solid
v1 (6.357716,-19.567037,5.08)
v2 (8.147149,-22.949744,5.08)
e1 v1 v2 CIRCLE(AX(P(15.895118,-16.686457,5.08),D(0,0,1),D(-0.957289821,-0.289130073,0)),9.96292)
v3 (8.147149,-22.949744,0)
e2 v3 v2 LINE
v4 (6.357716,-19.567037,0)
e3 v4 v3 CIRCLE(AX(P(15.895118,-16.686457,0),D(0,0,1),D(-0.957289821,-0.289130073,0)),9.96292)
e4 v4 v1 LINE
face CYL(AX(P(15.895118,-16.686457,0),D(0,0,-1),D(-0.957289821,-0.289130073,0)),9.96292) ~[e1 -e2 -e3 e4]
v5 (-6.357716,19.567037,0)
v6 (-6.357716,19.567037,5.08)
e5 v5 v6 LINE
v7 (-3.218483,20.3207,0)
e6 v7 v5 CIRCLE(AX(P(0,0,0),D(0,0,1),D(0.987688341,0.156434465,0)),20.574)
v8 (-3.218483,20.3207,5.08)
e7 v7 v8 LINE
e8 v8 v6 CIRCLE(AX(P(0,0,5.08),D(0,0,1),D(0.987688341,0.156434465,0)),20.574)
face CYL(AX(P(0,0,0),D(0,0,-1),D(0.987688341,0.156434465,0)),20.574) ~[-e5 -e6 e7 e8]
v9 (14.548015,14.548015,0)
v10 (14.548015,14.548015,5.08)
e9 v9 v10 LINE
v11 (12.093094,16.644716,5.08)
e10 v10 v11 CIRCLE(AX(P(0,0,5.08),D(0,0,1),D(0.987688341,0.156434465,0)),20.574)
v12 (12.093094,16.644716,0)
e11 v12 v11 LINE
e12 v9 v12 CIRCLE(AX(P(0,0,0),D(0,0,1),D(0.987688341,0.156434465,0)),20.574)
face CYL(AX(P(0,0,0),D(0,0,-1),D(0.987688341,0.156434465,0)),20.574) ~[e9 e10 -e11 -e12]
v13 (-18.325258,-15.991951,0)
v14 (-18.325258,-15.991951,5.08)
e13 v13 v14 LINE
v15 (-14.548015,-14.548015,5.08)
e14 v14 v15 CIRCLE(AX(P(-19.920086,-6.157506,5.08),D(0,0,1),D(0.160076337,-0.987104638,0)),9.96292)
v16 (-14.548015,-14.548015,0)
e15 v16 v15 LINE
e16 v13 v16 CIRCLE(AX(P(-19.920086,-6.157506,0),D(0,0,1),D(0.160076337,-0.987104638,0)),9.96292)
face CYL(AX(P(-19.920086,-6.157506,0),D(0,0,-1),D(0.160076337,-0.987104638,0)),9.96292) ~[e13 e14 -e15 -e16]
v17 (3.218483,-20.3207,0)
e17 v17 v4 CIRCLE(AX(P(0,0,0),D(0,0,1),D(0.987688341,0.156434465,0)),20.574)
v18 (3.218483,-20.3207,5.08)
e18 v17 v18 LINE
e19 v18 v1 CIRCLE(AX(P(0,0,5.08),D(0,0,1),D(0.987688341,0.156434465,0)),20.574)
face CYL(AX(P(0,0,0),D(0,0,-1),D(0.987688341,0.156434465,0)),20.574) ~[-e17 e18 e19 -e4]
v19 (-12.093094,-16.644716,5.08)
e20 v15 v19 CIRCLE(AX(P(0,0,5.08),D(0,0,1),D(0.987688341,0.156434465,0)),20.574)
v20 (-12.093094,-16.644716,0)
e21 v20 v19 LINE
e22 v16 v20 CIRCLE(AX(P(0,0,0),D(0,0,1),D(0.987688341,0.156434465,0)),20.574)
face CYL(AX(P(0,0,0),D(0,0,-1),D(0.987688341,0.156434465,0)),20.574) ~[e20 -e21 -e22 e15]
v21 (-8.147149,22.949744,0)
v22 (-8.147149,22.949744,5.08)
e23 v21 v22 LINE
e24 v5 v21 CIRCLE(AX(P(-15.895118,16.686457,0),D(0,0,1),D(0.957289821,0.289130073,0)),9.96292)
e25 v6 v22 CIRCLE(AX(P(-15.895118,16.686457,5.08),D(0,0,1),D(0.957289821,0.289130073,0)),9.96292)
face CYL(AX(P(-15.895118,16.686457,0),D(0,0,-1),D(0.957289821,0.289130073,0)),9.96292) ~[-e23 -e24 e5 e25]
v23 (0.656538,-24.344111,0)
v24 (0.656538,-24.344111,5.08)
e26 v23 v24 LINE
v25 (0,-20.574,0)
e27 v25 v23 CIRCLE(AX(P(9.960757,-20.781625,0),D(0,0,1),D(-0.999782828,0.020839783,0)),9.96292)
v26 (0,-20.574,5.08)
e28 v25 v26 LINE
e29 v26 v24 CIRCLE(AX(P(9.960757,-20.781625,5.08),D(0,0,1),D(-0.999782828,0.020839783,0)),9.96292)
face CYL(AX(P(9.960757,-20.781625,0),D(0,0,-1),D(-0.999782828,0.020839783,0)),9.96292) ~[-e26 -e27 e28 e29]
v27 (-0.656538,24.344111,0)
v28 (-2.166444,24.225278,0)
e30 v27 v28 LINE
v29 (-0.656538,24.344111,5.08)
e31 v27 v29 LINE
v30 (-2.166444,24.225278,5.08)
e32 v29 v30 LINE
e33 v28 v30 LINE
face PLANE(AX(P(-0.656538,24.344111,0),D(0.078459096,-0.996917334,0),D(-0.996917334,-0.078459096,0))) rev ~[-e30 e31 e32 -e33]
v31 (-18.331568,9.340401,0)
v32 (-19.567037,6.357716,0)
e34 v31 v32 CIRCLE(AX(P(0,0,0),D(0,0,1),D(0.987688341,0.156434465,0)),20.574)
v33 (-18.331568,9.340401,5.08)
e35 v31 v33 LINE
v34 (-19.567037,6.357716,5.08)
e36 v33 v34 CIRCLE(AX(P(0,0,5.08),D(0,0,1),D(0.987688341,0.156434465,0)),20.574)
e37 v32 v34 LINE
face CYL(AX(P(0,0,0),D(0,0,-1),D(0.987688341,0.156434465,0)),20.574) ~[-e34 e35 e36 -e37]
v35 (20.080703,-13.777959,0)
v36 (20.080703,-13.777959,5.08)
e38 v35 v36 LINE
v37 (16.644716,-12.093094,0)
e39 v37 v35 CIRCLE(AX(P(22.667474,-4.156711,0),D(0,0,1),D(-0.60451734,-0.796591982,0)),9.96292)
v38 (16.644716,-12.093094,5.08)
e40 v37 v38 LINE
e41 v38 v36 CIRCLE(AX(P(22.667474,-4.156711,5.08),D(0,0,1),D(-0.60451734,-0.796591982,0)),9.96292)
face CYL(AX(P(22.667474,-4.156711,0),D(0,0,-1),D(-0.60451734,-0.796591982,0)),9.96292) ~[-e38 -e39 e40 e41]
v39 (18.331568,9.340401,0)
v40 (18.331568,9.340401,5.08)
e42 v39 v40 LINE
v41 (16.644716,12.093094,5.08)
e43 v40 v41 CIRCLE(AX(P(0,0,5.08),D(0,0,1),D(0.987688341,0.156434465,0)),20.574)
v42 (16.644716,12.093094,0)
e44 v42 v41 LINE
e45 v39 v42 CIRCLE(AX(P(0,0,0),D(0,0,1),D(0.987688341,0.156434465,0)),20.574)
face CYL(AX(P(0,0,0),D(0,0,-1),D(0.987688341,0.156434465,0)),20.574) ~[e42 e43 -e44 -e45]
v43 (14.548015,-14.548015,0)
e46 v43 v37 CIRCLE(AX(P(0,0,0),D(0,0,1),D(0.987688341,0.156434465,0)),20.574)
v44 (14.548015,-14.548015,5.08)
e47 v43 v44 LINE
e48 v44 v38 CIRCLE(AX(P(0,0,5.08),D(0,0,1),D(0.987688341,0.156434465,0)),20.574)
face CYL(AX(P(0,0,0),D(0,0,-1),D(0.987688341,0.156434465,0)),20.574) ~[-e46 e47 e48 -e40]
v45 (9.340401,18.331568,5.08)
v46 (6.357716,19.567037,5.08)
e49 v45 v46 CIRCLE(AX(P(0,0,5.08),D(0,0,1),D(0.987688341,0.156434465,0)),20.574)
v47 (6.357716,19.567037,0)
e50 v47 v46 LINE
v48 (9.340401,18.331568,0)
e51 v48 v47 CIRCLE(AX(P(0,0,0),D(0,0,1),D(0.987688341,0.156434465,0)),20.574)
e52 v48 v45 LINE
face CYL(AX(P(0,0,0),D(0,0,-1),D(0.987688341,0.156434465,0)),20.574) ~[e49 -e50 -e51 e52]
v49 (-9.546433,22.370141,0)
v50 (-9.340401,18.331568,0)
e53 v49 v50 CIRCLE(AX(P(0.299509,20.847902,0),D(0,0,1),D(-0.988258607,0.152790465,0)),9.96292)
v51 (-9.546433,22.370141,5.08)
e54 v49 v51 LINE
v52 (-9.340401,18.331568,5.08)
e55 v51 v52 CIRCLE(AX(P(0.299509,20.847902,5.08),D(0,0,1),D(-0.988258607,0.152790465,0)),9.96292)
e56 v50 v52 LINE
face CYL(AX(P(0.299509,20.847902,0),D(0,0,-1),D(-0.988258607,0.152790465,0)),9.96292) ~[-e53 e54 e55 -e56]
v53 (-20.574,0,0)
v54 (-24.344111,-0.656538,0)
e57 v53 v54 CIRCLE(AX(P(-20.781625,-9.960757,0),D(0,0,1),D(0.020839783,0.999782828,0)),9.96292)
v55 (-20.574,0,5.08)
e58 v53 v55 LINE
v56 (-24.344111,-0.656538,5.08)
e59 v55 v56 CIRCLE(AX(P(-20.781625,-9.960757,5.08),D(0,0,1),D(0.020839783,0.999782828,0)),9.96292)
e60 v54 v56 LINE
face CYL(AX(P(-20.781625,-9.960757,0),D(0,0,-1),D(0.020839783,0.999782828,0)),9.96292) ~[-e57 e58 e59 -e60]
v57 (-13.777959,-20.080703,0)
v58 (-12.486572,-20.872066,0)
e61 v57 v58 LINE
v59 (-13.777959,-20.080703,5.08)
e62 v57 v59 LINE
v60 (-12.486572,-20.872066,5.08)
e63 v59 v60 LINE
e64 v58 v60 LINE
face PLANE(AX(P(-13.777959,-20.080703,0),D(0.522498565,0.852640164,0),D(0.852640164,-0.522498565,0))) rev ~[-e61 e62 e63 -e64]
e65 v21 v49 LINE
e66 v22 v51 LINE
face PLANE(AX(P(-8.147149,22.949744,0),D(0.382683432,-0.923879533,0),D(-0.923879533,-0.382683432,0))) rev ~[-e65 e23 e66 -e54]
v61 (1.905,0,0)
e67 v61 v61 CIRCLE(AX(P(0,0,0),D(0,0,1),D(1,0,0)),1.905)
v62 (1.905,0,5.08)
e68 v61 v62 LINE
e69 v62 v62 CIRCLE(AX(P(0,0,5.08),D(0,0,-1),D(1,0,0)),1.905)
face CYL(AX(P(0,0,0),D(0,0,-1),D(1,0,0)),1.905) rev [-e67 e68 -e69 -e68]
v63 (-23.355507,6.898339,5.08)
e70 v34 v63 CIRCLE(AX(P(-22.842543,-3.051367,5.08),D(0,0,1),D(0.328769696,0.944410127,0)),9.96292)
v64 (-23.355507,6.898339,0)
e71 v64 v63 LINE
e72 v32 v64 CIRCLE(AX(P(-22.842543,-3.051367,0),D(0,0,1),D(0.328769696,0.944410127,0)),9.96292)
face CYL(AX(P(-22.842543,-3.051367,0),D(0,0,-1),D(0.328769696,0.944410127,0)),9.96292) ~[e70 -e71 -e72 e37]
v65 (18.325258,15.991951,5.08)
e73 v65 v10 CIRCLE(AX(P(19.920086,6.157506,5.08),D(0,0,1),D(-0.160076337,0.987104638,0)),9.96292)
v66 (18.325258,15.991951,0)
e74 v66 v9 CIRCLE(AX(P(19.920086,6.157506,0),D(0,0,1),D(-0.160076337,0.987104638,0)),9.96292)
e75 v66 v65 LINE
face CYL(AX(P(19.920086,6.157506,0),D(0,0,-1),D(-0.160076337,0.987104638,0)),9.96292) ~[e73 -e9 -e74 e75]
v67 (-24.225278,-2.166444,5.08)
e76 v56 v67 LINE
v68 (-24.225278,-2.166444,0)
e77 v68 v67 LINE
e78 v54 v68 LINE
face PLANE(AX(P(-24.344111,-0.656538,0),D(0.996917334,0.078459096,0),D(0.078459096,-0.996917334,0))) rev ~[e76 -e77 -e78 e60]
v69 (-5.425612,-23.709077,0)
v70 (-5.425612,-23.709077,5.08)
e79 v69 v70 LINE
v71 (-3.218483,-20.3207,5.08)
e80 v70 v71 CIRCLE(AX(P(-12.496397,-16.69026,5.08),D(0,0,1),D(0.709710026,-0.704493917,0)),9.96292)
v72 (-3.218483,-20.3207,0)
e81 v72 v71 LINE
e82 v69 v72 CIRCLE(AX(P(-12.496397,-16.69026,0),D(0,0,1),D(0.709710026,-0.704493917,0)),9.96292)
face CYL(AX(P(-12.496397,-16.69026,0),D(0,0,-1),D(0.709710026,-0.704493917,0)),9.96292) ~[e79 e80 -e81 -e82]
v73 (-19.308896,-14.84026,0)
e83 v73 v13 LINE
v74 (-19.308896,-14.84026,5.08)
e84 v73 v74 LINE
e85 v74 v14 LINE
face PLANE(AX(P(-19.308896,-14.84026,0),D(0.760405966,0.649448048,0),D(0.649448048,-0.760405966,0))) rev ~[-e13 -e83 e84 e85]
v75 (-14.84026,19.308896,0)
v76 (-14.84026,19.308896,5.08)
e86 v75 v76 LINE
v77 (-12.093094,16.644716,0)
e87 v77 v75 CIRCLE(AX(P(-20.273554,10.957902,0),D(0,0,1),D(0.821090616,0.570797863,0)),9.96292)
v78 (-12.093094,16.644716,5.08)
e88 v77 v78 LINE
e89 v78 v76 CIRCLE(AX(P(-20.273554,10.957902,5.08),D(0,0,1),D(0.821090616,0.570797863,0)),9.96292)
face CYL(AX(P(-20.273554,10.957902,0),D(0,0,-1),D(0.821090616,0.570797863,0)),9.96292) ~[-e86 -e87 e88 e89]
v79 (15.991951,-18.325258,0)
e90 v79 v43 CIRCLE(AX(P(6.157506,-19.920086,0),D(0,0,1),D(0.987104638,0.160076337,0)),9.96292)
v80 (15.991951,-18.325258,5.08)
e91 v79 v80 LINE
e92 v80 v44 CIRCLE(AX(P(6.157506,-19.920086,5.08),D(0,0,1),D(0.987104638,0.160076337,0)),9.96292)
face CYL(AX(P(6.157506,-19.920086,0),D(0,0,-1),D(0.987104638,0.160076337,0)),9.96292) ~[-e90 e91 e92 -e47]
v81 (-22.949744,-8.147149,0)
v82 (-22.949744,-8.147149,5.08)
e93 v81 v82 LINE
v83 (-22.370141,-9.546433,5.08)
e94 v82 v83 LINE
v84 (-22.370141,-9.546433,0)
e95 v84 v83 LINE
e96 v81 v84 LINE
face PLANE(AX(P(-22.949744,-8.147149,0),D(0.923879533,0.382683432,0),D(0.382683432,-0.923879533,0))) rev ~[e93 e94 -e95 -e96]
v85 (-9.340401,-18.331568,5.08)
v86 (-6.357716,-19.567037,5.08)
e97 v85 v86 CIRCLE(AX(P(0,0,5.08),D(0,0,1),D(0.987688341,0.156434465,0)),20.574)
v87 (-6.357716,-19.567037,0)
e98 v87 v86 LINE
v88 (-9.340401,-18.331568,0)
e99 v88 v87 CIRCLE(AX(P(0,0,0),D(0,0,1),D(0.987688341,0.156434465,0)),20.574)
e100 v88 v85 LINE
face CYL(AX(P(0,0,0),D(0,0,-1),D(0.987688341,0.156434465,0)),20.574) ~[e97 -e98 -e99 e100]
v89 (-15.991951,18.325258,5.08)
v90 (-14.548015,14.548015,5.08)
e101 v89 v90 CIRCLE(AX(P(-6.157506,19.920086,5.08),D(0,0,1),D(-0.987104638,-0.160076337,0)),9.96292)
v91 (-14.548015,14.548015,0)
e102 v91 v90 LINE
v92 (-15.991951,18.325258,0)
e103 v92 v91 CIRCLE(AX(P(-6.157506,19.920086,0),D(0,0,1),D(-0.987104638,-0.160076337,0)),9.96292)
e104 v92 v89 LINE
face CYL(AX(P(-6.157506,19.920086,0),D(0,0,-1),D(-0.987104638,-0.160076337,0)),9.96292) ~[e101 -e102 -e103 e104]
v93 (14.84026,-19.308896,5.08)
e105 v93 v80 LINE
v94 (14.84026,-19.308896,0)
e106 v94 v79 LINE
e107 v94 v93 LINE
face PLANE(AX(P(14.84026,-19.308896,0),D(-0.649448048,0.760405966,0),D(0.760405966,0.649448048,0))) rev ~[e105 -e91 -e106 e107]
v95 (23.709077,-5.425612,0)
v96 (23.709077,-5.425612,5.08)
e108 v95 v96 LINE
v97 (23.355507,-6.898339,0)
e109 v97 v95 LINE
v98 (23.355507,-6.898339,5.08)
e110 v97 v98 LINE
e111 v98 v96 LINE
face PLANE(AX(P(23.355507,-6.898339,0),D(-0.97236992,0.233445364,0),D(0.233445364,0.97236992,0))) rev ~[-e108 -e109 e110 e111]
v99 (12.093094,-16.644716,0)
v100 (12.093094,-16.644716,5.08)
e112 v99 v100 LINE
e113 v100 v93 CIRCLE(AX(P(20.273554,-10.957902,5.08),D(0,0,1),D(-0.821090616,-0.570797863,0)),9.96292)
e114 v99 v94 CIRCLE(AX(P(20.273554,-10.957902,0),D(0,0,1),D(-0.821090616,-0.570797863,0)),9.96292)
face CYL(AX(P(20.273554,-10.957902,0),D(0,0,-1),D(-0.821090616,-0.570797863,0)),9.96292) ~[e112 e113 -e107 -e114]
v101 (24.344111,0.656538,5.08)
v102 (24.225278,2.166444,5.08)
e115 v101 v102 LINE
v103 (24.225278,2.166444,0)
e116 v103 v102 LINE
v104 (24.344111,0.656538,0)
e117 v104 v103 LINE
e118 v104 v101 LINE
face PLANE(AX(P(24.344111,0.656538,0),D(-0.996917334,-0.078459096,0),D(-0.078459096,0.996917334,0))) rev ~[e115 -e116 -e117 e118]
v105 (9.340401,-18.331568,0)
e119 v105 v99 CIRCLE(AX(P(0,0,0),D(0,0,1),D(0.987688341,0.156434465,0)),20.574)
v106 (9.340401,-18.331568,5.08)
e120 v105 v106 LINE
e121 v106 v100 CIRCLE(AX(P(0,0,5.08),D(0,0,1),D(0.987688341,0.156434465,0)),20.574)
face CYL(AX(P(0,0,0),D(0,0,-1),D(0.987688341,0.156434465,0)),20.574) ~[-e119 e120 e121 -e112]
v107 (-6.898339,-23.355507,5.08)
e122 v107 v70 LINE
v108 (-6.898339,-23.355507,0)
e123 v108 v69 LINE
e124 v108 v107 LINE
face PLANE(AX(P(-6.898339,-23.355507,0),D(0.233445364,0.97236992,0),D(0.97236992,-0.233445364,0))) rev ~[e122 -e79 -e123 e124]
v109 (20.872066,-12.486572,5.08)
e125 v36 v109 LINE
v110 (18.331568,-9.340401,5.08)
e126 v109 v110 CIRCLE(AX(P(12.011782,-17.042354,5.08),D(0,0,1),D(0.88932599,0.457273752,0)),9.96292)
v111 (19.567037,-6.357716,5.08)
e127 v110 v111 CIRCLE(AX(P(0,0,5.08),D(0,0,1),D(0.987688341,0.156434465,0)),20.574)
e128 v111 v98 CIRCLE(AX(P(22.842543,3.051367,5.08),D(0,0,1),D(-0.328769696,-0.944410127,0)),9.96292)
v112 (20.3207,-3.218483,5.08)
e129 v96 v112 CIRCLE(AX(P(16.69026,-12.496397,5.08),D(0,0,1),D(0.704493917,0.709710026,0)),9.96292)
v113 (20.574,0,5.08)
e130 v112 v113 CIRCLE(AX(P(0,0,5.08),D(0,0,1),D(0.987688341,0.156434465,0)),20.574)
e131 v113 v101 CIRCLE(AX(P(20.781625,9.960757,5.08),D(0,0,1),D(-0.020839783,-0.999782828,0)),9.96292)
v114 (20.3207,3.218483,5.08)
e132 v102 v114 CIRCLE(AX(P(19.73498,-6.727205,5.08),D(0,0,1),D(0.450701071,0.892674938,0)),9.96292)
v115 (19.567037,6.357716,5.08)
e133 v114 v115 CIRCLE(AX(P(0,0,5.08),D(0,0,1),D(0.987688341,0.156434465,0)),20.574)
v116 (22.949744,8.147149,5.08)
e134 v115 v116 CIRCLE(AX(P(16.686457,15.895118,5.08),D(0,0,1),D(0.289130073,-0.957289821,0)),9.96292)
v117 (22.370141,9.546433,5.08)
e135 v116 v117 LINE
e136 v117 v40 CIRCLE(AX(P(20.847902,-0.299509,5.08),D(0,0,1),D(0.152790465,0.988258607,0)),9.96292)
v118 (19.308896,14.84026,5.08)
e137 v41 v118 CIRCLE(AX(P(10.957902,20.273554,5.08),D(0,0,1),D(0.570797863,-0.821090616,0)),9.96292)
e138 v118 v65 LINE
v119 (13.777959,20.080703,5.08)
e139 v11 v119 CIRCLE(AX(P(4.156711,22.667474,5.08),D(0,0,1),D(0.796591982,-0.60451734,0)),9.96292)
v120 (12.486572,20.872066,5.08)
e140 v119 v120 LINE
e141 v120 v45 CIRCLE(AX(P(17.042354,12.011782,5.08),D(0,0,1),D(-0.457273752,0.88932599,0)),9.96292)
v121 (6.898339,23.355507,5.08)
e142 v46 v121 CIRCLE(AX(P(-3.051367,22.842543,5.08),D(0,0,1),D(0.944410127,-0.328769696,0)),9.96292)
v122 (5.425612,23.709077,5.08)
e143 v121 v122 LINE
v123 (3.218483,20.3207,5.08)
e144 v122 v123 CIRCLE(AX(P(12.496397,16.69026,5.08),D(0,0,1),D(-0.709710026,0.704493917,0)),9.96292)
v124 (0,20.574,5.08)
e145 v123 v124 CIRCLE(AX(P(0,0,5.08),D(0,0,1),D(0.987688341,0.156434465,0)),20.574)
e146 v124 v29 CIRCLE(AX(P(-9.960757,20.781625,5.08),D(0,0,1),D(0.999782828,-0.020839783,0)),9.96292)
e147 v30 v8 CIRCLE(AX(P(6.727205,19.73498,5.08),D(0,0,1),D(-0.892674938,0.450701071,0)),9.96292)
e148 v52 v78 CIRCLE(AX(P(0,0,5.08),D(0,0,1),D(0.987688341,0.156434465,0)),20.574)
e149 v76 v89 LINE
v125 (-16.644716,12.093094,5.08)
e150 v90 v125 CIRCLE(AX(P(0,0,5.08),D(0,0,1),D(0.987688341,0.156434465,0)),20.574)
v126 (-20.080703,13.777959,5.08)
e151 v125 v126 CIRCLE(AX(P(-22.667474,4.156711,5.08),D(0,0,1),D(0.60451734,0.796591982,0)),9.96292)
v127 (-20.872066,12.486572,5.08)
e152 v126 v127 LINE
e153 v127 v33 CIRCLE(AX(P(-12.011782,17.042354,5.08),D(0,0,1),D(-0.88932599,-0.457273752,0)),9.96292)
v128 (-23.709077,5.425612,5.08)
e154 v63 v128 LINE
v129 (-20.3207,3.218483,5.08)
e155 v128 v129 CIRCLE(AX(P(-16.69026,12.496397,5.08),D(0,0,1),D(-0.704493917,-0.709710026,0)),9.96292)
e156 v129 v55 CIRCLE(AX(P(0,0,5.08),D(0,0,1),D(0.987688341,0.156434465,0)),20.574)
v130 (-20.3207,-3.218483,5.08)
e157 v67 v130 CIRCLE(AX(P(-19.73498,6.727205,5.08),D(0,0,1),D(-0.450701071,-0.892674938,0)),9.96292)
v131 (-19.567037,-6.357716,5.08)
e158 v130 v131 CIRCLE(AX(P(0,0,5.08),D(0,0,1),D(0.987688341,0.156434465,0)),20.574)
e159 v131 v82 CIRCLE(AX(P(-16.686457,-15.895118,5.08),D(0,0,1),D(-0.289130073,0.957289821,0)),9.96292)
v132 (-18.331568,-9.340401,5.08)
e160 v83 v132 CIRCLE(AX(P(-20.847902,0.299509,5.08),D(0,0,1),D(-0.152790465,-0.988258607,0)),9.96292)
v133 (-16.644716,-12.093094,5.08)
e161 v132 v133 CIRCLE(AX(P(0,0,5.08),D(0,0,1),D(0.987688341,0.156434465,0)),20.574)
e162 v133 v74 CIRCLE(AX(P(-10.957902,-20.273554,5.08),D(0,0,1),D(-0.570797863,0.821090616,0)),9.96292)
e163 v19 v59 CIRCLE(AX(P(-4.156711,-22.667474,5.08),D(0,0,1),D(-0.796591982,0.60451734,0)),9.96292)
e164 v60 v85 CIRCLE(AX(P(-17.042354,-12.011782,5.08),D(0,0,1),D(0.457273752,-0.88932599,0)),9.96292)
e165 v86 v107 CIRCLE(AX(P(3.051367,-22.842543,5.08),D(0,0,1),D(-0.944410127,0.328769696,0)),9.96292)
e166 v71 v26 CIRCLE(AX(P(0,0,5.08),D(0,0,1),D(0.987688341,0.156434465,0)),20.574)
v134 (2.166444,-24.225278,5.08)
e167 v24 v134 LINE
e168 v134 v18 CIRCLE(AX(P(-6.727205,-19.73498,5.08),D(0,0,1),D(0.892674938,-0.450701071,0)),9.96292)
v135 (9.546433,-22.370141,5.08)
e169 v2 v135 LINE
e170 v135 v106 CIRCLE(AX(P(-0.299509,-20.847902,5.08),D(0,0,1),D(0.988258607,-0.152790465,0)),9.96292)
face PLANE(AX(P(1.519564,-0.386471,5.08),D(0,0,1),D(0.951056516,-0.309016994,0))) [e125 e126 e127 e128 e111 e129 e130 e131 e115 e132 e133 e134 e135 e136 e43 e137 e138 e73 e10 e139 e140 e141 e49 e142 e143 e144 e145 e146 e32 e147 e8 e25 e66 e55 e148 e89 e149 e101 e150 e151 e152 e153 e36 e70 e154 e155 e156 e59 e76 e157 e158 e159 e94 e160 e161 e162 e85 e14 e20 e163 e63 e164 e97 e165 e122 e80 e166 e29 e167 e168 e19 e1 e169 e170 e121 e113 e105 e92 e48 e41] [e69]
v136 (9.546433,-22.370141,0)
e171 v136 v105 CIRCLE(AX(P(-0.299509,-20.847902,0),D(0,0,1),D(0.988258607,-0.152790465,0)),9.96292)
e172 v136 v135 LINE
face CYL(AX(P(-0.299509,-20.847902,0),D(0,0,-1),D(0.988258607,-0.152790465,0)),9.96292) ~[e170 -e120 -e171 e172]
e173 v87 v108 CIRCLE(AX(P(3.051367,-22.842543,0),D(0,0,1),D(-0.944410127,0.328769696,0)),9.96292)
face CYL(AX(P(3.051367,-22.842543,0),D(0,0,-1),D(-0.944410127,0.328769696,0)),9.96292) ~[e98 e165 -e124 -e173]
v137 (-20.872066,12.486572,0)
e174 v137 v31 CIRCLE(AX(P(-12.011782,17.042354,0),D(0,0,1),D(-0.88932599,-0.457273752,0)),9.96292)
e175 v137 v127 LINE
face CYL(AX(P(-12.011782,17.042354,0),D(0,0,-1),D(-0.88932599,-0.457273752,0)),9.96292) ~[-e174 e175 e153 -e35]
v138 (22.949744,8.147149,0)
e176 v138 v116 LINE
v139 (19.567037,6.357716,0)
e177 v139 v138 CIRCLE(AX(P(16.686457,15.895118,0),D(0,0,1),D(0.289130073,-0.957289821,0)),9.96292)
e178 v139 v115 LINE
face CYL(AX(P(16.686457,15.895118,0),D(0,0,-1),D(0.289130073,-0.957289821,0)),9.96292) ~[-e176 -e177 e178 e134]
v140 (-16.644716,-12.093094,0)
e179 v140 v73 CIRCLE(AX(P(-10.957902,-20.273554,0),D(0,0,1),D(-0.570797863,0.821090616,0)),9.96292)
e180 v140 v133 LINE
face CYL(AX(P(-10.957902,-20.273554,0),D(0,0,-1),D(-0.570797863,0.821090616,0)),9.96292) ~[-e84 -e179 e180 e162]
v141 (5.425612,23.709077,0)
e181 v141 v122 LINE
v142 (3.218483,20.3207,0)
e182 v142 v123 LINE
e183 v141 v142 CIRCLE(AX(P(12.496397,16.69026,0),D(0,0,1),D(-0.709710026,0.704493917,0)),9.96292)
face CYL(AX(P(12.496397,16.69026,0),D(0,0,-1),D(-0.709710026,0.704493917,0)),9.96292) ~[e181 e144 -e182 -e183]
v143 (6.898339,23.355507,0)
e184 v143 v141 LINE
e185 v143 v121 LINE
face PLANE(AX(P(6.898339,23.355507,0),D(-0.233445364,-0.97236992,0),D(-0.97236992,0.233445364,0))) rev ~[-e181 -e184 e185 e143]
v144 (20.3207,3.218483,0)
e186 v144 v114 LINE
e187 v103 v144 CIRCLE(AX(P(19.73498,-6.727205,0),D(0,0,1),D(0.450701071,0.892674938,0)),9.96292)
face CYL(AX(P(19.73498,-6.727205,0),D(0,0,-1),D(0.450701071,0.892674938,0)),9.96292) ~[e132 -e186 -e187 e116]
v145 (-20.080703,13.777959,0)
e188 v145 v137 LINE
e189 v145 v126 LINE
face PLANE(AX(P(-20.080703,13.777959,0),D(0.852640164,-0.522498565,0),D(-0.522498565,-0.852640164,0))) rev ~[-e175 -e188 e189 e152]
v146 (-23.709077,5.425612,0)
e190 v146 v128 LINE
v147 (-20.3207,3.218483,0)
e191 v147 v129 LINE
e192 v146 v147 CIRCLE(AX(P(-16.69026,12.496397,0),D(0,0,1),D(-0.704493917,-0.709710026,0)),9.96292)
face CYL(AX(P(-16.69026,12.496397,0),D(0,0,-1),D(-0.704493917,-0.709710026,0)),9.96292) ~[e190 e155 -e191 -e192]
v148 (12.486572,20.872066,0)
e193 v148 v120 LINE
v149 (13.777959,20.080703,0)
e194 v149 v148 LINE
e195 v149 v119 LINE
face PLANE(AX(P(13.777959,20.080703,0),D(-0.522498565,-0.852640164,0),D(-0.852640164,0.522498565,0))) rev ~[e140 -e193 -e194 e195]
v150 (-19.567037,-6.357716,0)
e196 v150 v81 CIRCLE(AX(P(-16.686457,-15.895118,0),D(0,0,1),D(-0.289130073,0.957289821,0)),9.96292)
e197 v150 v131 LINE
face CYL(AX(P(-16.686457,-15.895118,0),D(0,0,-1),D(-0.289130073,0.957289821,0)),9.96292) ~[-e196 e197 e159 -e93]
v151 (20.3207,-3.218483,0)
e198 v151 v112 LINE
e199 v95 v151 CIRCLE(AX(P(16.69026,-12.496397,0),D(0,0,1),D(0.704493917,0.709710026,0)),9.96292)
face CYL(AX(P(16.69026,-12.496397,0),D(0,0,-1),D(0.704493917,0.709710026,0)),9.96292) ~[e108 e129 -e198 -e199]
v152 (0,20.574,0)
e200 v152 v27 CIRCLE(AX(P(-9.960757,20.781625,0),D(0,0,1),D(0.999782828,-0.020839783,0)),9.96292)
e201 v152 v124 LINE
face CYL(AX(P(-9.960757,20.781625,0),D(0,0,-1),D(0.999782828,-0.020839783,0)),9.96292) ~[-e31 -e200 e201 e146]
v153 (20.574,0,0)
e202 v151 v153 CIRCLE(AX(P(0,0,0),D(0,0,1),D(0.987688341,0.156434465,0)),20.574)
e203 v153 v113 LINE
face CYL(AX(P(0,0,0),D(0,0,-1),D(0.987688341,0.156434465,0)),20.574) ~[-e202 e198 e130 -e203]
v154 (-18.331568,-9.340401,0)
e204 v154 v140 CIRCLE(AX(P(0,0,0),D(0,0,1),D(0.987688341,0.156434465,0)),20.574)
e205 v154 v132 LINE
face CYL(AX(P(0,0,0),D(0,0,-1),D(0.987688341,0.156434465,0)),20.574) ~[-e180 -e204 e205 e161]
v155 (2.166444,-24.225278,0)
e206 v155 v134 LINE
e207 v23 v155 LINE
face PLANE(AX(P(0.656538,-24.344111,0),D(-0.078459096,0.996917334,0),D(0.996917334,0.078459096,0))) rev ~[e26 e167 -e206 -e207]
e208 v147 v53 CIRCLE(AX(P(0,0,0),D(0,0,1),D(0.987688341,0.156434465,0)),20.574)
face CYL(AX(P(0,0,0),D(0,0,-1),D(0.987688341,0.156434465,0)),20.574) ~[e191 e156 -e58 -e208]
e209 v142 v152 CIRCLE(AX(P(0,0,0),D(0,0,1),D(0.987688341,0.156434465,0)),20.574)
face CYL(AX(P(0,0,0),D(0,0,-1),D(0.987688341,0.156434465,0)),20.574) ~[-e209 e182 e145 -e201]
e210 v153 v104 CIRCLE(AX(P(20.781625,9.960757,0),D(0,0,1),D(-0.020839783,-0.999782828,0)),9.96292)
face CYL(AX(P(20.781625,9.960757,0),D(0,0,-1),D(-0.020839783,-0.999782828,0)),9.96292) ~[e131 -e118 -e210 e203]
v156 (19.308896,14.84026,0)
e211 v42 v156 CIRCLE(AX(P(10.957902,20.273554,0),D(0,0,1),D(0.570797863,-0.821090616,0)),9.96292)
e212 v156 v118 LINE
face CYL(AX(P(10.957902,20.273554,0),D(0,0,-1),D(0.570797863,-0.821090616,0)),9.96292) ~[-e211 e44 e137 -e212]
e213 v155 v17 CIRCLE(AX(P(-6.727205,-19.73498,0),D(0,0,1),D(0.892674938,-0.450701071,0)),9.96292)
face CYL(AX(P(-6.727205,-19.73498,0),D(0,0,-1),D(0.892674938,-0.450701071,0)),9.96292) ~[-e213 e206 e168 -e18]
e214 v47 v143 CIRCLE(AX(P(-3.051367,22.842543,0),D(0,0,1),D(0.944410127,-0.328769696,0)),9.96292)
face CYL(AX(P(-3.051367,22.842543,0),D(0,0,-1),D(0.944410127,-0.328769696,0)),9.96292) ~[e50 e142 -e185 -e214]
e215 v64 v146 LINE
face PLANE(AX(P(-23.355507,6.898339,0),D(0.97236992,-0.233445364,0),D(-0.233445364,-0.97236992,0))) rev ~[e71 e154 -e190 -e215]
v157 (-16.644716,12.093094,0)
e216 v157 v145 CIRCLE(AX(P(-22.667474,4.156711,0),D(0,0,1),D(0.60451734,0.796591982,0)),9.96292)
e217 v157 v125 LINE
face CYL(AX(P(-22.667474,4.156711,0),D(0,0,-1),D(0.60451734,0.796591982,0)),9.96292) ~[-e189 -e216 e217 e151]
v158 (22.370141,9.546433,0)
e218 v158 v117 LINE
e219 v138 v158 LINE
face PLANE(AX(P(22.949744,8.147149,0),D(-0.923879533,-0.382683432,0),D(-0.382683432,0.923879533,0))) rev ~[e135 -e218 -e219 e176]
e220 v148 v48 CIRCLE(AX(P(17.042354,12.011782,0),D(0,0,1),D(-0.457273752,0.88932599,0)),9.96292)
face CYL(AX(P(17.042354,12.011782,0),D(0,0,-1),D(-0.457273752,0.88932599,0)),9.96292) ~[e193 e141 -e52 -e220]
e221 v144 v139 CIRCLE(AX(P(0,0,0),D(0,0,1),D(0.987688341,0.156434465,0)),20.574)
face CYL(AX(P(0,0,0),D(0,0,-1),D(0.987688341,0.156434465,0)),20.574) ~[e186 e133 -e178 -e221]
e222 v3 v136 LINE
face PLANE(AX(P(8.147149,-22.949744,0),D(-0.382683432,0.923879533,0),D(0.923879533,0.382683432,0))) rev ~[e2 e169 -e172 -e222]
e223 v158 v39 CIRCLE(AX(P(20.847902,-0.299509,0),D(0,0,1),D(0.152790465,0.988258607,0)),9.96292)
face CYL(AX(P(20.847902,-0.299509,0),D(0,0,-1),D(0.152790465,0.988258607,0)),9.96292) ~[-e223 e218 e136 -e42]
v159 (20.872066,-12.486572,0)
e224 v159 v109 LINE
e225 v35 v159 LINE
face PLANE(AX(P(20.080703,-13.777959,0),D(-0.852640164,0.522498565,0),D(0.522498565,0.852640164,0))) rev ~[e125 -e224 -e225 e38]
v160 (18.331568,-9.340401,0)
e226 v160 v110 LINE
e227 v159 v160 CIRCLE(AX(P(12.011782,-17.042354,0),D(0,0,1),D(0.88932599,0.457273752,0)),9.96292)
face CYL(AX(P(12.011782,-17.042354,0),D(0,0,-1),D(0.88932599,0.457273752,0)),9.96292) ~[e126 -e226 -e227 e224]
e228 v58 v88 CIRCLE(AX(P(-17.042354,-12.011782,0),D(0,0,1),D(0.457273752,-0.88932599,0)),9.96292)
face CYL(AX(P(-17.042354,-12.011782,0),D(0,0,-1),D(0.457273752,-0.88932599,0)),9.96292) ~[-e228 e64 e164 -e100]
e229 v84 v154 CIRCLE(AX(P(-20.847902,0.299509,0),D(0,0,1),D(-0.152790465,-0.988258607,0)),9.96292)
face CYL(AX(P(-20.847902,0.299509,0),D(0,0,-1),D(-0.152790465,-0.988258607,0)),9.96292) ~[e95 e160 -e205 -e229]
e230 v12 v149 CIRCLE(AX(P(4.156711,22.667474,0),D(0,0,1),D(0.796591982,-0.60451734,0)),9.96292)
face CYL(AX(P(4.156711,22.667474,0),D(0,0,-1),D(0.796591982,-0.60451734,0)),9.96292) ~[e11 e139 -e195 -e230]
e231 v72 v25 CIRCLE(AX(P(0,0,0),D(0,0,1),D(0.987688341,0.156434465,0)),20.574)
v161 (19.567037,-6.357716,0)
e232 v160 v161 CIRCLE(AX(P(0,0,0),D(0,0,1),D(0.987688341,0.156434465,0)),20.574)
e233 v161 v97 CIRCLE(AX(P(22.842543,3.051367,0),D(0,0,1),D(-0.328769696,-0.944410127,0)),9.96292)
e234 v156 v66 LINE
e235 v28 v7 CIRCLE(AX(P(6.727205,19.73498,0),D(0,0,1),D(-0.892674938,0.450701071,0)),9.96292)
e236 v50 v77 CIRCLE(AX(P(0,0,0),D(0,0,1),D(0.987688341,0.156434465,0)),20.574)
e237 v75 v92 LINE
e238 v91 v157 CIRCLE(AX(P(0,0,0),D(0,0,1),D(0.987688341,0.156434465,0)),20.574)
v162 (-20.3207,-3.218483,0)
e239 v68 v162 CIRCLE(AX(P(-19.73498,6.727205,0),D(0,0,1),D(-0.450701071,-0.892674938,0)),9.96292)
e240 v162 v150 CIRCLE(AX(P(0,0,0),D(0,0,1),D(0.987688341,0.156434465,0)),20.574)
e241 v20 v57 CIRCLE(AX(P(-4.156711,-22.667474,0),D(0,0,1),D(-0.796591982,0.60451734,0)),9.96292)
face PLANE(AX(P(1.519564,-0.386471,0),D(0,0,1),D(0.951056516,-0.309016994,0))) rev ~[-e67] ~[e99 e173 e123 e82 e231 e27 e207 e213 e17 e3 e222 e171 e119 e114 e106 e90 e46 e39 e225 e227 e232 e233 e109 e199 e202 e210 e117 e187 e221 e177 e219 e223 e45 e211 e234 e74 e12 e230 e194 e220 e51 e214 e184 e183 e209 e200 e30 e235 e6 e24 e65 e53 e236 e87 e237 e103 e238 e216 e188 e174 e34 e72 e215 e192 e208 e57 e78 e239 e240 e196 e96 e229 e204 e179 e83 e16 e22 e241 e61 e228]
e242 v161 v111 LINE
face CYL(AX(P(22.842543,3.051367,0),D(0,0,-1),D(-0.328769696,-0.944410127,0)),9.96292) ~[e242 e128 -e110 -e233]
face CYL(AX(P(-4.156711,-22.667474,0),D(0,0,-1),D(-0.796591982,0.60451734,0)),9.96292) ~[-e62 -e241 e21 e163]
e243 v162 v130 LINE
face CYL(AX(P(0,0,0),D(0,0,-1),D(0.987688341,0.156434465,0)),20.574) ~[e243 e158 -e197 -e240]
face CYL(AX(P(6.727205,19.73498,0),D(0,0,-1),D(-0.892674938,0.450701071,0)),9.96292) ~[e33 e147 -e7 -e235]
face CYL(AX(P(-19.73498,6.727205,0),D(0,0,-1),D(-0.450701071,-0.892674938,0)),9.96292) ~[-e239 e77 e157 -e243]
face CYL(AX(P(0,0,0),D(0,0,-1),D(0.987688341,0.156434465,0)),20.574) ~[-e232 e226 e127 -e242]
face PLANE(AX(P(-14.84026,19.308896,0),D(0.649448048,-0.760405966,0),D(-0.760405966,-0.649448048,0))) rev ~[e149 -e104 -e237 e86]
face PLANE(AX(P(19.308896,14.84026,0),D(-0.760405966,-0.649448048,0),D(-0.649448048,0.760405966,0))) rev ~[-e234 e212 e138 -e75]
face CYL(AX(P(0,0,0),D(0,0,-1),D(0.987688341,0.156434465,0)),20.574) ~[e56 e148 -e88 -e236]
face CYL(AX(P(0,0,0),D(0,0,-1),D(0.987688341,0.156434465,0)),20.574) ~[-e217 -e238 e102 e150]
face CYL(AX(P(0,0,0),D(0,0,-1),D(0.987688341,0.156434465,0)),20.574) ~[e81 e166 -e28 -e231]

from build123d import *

# Parameters (mm, degrees)
F0_R     = 1.905
F1_DEPTH = 5.08
F2_COUNT = 20


with BuildPart() as f1:
    # F0 (on Top) → F1 (new body)
    with BuildSketch(Plane.XY):
        with BuildLine():
            ThreePointArc((24.2252784515, 2.1664437984), (22.3269265727, 2.8926485832), (20.3206999194, 3.2184826837))
            ThreePointArc((20.3206999194, 3.2184826837), (-20.5105772242, -1.6142174355), (20.574, 0))
            ThreePointArc((20.574, 0), (22.4908742639, 0.1455516853), (24.3441105881, 0.6565383418))
            Line((24.3441105881, 0.6565383418), (24.2252784515, 2.1664437984))
        make_face()
        Circle(F0_R, mode=Mode.SUBTRACT)
    extrude(amount=F1_DEPTH)

    # F2: F1 ×20 about axis
    f2_axis = Axis((0, 0, 0), (0, 0, 1))


with BuildPart() as f1_1:
    add(f1.part)
    for i in range(1, F2_COUNT):
        add(f1.part.rotate(f2_axis, i * 360 / F2_COUNT))


solid = f1_1.part
